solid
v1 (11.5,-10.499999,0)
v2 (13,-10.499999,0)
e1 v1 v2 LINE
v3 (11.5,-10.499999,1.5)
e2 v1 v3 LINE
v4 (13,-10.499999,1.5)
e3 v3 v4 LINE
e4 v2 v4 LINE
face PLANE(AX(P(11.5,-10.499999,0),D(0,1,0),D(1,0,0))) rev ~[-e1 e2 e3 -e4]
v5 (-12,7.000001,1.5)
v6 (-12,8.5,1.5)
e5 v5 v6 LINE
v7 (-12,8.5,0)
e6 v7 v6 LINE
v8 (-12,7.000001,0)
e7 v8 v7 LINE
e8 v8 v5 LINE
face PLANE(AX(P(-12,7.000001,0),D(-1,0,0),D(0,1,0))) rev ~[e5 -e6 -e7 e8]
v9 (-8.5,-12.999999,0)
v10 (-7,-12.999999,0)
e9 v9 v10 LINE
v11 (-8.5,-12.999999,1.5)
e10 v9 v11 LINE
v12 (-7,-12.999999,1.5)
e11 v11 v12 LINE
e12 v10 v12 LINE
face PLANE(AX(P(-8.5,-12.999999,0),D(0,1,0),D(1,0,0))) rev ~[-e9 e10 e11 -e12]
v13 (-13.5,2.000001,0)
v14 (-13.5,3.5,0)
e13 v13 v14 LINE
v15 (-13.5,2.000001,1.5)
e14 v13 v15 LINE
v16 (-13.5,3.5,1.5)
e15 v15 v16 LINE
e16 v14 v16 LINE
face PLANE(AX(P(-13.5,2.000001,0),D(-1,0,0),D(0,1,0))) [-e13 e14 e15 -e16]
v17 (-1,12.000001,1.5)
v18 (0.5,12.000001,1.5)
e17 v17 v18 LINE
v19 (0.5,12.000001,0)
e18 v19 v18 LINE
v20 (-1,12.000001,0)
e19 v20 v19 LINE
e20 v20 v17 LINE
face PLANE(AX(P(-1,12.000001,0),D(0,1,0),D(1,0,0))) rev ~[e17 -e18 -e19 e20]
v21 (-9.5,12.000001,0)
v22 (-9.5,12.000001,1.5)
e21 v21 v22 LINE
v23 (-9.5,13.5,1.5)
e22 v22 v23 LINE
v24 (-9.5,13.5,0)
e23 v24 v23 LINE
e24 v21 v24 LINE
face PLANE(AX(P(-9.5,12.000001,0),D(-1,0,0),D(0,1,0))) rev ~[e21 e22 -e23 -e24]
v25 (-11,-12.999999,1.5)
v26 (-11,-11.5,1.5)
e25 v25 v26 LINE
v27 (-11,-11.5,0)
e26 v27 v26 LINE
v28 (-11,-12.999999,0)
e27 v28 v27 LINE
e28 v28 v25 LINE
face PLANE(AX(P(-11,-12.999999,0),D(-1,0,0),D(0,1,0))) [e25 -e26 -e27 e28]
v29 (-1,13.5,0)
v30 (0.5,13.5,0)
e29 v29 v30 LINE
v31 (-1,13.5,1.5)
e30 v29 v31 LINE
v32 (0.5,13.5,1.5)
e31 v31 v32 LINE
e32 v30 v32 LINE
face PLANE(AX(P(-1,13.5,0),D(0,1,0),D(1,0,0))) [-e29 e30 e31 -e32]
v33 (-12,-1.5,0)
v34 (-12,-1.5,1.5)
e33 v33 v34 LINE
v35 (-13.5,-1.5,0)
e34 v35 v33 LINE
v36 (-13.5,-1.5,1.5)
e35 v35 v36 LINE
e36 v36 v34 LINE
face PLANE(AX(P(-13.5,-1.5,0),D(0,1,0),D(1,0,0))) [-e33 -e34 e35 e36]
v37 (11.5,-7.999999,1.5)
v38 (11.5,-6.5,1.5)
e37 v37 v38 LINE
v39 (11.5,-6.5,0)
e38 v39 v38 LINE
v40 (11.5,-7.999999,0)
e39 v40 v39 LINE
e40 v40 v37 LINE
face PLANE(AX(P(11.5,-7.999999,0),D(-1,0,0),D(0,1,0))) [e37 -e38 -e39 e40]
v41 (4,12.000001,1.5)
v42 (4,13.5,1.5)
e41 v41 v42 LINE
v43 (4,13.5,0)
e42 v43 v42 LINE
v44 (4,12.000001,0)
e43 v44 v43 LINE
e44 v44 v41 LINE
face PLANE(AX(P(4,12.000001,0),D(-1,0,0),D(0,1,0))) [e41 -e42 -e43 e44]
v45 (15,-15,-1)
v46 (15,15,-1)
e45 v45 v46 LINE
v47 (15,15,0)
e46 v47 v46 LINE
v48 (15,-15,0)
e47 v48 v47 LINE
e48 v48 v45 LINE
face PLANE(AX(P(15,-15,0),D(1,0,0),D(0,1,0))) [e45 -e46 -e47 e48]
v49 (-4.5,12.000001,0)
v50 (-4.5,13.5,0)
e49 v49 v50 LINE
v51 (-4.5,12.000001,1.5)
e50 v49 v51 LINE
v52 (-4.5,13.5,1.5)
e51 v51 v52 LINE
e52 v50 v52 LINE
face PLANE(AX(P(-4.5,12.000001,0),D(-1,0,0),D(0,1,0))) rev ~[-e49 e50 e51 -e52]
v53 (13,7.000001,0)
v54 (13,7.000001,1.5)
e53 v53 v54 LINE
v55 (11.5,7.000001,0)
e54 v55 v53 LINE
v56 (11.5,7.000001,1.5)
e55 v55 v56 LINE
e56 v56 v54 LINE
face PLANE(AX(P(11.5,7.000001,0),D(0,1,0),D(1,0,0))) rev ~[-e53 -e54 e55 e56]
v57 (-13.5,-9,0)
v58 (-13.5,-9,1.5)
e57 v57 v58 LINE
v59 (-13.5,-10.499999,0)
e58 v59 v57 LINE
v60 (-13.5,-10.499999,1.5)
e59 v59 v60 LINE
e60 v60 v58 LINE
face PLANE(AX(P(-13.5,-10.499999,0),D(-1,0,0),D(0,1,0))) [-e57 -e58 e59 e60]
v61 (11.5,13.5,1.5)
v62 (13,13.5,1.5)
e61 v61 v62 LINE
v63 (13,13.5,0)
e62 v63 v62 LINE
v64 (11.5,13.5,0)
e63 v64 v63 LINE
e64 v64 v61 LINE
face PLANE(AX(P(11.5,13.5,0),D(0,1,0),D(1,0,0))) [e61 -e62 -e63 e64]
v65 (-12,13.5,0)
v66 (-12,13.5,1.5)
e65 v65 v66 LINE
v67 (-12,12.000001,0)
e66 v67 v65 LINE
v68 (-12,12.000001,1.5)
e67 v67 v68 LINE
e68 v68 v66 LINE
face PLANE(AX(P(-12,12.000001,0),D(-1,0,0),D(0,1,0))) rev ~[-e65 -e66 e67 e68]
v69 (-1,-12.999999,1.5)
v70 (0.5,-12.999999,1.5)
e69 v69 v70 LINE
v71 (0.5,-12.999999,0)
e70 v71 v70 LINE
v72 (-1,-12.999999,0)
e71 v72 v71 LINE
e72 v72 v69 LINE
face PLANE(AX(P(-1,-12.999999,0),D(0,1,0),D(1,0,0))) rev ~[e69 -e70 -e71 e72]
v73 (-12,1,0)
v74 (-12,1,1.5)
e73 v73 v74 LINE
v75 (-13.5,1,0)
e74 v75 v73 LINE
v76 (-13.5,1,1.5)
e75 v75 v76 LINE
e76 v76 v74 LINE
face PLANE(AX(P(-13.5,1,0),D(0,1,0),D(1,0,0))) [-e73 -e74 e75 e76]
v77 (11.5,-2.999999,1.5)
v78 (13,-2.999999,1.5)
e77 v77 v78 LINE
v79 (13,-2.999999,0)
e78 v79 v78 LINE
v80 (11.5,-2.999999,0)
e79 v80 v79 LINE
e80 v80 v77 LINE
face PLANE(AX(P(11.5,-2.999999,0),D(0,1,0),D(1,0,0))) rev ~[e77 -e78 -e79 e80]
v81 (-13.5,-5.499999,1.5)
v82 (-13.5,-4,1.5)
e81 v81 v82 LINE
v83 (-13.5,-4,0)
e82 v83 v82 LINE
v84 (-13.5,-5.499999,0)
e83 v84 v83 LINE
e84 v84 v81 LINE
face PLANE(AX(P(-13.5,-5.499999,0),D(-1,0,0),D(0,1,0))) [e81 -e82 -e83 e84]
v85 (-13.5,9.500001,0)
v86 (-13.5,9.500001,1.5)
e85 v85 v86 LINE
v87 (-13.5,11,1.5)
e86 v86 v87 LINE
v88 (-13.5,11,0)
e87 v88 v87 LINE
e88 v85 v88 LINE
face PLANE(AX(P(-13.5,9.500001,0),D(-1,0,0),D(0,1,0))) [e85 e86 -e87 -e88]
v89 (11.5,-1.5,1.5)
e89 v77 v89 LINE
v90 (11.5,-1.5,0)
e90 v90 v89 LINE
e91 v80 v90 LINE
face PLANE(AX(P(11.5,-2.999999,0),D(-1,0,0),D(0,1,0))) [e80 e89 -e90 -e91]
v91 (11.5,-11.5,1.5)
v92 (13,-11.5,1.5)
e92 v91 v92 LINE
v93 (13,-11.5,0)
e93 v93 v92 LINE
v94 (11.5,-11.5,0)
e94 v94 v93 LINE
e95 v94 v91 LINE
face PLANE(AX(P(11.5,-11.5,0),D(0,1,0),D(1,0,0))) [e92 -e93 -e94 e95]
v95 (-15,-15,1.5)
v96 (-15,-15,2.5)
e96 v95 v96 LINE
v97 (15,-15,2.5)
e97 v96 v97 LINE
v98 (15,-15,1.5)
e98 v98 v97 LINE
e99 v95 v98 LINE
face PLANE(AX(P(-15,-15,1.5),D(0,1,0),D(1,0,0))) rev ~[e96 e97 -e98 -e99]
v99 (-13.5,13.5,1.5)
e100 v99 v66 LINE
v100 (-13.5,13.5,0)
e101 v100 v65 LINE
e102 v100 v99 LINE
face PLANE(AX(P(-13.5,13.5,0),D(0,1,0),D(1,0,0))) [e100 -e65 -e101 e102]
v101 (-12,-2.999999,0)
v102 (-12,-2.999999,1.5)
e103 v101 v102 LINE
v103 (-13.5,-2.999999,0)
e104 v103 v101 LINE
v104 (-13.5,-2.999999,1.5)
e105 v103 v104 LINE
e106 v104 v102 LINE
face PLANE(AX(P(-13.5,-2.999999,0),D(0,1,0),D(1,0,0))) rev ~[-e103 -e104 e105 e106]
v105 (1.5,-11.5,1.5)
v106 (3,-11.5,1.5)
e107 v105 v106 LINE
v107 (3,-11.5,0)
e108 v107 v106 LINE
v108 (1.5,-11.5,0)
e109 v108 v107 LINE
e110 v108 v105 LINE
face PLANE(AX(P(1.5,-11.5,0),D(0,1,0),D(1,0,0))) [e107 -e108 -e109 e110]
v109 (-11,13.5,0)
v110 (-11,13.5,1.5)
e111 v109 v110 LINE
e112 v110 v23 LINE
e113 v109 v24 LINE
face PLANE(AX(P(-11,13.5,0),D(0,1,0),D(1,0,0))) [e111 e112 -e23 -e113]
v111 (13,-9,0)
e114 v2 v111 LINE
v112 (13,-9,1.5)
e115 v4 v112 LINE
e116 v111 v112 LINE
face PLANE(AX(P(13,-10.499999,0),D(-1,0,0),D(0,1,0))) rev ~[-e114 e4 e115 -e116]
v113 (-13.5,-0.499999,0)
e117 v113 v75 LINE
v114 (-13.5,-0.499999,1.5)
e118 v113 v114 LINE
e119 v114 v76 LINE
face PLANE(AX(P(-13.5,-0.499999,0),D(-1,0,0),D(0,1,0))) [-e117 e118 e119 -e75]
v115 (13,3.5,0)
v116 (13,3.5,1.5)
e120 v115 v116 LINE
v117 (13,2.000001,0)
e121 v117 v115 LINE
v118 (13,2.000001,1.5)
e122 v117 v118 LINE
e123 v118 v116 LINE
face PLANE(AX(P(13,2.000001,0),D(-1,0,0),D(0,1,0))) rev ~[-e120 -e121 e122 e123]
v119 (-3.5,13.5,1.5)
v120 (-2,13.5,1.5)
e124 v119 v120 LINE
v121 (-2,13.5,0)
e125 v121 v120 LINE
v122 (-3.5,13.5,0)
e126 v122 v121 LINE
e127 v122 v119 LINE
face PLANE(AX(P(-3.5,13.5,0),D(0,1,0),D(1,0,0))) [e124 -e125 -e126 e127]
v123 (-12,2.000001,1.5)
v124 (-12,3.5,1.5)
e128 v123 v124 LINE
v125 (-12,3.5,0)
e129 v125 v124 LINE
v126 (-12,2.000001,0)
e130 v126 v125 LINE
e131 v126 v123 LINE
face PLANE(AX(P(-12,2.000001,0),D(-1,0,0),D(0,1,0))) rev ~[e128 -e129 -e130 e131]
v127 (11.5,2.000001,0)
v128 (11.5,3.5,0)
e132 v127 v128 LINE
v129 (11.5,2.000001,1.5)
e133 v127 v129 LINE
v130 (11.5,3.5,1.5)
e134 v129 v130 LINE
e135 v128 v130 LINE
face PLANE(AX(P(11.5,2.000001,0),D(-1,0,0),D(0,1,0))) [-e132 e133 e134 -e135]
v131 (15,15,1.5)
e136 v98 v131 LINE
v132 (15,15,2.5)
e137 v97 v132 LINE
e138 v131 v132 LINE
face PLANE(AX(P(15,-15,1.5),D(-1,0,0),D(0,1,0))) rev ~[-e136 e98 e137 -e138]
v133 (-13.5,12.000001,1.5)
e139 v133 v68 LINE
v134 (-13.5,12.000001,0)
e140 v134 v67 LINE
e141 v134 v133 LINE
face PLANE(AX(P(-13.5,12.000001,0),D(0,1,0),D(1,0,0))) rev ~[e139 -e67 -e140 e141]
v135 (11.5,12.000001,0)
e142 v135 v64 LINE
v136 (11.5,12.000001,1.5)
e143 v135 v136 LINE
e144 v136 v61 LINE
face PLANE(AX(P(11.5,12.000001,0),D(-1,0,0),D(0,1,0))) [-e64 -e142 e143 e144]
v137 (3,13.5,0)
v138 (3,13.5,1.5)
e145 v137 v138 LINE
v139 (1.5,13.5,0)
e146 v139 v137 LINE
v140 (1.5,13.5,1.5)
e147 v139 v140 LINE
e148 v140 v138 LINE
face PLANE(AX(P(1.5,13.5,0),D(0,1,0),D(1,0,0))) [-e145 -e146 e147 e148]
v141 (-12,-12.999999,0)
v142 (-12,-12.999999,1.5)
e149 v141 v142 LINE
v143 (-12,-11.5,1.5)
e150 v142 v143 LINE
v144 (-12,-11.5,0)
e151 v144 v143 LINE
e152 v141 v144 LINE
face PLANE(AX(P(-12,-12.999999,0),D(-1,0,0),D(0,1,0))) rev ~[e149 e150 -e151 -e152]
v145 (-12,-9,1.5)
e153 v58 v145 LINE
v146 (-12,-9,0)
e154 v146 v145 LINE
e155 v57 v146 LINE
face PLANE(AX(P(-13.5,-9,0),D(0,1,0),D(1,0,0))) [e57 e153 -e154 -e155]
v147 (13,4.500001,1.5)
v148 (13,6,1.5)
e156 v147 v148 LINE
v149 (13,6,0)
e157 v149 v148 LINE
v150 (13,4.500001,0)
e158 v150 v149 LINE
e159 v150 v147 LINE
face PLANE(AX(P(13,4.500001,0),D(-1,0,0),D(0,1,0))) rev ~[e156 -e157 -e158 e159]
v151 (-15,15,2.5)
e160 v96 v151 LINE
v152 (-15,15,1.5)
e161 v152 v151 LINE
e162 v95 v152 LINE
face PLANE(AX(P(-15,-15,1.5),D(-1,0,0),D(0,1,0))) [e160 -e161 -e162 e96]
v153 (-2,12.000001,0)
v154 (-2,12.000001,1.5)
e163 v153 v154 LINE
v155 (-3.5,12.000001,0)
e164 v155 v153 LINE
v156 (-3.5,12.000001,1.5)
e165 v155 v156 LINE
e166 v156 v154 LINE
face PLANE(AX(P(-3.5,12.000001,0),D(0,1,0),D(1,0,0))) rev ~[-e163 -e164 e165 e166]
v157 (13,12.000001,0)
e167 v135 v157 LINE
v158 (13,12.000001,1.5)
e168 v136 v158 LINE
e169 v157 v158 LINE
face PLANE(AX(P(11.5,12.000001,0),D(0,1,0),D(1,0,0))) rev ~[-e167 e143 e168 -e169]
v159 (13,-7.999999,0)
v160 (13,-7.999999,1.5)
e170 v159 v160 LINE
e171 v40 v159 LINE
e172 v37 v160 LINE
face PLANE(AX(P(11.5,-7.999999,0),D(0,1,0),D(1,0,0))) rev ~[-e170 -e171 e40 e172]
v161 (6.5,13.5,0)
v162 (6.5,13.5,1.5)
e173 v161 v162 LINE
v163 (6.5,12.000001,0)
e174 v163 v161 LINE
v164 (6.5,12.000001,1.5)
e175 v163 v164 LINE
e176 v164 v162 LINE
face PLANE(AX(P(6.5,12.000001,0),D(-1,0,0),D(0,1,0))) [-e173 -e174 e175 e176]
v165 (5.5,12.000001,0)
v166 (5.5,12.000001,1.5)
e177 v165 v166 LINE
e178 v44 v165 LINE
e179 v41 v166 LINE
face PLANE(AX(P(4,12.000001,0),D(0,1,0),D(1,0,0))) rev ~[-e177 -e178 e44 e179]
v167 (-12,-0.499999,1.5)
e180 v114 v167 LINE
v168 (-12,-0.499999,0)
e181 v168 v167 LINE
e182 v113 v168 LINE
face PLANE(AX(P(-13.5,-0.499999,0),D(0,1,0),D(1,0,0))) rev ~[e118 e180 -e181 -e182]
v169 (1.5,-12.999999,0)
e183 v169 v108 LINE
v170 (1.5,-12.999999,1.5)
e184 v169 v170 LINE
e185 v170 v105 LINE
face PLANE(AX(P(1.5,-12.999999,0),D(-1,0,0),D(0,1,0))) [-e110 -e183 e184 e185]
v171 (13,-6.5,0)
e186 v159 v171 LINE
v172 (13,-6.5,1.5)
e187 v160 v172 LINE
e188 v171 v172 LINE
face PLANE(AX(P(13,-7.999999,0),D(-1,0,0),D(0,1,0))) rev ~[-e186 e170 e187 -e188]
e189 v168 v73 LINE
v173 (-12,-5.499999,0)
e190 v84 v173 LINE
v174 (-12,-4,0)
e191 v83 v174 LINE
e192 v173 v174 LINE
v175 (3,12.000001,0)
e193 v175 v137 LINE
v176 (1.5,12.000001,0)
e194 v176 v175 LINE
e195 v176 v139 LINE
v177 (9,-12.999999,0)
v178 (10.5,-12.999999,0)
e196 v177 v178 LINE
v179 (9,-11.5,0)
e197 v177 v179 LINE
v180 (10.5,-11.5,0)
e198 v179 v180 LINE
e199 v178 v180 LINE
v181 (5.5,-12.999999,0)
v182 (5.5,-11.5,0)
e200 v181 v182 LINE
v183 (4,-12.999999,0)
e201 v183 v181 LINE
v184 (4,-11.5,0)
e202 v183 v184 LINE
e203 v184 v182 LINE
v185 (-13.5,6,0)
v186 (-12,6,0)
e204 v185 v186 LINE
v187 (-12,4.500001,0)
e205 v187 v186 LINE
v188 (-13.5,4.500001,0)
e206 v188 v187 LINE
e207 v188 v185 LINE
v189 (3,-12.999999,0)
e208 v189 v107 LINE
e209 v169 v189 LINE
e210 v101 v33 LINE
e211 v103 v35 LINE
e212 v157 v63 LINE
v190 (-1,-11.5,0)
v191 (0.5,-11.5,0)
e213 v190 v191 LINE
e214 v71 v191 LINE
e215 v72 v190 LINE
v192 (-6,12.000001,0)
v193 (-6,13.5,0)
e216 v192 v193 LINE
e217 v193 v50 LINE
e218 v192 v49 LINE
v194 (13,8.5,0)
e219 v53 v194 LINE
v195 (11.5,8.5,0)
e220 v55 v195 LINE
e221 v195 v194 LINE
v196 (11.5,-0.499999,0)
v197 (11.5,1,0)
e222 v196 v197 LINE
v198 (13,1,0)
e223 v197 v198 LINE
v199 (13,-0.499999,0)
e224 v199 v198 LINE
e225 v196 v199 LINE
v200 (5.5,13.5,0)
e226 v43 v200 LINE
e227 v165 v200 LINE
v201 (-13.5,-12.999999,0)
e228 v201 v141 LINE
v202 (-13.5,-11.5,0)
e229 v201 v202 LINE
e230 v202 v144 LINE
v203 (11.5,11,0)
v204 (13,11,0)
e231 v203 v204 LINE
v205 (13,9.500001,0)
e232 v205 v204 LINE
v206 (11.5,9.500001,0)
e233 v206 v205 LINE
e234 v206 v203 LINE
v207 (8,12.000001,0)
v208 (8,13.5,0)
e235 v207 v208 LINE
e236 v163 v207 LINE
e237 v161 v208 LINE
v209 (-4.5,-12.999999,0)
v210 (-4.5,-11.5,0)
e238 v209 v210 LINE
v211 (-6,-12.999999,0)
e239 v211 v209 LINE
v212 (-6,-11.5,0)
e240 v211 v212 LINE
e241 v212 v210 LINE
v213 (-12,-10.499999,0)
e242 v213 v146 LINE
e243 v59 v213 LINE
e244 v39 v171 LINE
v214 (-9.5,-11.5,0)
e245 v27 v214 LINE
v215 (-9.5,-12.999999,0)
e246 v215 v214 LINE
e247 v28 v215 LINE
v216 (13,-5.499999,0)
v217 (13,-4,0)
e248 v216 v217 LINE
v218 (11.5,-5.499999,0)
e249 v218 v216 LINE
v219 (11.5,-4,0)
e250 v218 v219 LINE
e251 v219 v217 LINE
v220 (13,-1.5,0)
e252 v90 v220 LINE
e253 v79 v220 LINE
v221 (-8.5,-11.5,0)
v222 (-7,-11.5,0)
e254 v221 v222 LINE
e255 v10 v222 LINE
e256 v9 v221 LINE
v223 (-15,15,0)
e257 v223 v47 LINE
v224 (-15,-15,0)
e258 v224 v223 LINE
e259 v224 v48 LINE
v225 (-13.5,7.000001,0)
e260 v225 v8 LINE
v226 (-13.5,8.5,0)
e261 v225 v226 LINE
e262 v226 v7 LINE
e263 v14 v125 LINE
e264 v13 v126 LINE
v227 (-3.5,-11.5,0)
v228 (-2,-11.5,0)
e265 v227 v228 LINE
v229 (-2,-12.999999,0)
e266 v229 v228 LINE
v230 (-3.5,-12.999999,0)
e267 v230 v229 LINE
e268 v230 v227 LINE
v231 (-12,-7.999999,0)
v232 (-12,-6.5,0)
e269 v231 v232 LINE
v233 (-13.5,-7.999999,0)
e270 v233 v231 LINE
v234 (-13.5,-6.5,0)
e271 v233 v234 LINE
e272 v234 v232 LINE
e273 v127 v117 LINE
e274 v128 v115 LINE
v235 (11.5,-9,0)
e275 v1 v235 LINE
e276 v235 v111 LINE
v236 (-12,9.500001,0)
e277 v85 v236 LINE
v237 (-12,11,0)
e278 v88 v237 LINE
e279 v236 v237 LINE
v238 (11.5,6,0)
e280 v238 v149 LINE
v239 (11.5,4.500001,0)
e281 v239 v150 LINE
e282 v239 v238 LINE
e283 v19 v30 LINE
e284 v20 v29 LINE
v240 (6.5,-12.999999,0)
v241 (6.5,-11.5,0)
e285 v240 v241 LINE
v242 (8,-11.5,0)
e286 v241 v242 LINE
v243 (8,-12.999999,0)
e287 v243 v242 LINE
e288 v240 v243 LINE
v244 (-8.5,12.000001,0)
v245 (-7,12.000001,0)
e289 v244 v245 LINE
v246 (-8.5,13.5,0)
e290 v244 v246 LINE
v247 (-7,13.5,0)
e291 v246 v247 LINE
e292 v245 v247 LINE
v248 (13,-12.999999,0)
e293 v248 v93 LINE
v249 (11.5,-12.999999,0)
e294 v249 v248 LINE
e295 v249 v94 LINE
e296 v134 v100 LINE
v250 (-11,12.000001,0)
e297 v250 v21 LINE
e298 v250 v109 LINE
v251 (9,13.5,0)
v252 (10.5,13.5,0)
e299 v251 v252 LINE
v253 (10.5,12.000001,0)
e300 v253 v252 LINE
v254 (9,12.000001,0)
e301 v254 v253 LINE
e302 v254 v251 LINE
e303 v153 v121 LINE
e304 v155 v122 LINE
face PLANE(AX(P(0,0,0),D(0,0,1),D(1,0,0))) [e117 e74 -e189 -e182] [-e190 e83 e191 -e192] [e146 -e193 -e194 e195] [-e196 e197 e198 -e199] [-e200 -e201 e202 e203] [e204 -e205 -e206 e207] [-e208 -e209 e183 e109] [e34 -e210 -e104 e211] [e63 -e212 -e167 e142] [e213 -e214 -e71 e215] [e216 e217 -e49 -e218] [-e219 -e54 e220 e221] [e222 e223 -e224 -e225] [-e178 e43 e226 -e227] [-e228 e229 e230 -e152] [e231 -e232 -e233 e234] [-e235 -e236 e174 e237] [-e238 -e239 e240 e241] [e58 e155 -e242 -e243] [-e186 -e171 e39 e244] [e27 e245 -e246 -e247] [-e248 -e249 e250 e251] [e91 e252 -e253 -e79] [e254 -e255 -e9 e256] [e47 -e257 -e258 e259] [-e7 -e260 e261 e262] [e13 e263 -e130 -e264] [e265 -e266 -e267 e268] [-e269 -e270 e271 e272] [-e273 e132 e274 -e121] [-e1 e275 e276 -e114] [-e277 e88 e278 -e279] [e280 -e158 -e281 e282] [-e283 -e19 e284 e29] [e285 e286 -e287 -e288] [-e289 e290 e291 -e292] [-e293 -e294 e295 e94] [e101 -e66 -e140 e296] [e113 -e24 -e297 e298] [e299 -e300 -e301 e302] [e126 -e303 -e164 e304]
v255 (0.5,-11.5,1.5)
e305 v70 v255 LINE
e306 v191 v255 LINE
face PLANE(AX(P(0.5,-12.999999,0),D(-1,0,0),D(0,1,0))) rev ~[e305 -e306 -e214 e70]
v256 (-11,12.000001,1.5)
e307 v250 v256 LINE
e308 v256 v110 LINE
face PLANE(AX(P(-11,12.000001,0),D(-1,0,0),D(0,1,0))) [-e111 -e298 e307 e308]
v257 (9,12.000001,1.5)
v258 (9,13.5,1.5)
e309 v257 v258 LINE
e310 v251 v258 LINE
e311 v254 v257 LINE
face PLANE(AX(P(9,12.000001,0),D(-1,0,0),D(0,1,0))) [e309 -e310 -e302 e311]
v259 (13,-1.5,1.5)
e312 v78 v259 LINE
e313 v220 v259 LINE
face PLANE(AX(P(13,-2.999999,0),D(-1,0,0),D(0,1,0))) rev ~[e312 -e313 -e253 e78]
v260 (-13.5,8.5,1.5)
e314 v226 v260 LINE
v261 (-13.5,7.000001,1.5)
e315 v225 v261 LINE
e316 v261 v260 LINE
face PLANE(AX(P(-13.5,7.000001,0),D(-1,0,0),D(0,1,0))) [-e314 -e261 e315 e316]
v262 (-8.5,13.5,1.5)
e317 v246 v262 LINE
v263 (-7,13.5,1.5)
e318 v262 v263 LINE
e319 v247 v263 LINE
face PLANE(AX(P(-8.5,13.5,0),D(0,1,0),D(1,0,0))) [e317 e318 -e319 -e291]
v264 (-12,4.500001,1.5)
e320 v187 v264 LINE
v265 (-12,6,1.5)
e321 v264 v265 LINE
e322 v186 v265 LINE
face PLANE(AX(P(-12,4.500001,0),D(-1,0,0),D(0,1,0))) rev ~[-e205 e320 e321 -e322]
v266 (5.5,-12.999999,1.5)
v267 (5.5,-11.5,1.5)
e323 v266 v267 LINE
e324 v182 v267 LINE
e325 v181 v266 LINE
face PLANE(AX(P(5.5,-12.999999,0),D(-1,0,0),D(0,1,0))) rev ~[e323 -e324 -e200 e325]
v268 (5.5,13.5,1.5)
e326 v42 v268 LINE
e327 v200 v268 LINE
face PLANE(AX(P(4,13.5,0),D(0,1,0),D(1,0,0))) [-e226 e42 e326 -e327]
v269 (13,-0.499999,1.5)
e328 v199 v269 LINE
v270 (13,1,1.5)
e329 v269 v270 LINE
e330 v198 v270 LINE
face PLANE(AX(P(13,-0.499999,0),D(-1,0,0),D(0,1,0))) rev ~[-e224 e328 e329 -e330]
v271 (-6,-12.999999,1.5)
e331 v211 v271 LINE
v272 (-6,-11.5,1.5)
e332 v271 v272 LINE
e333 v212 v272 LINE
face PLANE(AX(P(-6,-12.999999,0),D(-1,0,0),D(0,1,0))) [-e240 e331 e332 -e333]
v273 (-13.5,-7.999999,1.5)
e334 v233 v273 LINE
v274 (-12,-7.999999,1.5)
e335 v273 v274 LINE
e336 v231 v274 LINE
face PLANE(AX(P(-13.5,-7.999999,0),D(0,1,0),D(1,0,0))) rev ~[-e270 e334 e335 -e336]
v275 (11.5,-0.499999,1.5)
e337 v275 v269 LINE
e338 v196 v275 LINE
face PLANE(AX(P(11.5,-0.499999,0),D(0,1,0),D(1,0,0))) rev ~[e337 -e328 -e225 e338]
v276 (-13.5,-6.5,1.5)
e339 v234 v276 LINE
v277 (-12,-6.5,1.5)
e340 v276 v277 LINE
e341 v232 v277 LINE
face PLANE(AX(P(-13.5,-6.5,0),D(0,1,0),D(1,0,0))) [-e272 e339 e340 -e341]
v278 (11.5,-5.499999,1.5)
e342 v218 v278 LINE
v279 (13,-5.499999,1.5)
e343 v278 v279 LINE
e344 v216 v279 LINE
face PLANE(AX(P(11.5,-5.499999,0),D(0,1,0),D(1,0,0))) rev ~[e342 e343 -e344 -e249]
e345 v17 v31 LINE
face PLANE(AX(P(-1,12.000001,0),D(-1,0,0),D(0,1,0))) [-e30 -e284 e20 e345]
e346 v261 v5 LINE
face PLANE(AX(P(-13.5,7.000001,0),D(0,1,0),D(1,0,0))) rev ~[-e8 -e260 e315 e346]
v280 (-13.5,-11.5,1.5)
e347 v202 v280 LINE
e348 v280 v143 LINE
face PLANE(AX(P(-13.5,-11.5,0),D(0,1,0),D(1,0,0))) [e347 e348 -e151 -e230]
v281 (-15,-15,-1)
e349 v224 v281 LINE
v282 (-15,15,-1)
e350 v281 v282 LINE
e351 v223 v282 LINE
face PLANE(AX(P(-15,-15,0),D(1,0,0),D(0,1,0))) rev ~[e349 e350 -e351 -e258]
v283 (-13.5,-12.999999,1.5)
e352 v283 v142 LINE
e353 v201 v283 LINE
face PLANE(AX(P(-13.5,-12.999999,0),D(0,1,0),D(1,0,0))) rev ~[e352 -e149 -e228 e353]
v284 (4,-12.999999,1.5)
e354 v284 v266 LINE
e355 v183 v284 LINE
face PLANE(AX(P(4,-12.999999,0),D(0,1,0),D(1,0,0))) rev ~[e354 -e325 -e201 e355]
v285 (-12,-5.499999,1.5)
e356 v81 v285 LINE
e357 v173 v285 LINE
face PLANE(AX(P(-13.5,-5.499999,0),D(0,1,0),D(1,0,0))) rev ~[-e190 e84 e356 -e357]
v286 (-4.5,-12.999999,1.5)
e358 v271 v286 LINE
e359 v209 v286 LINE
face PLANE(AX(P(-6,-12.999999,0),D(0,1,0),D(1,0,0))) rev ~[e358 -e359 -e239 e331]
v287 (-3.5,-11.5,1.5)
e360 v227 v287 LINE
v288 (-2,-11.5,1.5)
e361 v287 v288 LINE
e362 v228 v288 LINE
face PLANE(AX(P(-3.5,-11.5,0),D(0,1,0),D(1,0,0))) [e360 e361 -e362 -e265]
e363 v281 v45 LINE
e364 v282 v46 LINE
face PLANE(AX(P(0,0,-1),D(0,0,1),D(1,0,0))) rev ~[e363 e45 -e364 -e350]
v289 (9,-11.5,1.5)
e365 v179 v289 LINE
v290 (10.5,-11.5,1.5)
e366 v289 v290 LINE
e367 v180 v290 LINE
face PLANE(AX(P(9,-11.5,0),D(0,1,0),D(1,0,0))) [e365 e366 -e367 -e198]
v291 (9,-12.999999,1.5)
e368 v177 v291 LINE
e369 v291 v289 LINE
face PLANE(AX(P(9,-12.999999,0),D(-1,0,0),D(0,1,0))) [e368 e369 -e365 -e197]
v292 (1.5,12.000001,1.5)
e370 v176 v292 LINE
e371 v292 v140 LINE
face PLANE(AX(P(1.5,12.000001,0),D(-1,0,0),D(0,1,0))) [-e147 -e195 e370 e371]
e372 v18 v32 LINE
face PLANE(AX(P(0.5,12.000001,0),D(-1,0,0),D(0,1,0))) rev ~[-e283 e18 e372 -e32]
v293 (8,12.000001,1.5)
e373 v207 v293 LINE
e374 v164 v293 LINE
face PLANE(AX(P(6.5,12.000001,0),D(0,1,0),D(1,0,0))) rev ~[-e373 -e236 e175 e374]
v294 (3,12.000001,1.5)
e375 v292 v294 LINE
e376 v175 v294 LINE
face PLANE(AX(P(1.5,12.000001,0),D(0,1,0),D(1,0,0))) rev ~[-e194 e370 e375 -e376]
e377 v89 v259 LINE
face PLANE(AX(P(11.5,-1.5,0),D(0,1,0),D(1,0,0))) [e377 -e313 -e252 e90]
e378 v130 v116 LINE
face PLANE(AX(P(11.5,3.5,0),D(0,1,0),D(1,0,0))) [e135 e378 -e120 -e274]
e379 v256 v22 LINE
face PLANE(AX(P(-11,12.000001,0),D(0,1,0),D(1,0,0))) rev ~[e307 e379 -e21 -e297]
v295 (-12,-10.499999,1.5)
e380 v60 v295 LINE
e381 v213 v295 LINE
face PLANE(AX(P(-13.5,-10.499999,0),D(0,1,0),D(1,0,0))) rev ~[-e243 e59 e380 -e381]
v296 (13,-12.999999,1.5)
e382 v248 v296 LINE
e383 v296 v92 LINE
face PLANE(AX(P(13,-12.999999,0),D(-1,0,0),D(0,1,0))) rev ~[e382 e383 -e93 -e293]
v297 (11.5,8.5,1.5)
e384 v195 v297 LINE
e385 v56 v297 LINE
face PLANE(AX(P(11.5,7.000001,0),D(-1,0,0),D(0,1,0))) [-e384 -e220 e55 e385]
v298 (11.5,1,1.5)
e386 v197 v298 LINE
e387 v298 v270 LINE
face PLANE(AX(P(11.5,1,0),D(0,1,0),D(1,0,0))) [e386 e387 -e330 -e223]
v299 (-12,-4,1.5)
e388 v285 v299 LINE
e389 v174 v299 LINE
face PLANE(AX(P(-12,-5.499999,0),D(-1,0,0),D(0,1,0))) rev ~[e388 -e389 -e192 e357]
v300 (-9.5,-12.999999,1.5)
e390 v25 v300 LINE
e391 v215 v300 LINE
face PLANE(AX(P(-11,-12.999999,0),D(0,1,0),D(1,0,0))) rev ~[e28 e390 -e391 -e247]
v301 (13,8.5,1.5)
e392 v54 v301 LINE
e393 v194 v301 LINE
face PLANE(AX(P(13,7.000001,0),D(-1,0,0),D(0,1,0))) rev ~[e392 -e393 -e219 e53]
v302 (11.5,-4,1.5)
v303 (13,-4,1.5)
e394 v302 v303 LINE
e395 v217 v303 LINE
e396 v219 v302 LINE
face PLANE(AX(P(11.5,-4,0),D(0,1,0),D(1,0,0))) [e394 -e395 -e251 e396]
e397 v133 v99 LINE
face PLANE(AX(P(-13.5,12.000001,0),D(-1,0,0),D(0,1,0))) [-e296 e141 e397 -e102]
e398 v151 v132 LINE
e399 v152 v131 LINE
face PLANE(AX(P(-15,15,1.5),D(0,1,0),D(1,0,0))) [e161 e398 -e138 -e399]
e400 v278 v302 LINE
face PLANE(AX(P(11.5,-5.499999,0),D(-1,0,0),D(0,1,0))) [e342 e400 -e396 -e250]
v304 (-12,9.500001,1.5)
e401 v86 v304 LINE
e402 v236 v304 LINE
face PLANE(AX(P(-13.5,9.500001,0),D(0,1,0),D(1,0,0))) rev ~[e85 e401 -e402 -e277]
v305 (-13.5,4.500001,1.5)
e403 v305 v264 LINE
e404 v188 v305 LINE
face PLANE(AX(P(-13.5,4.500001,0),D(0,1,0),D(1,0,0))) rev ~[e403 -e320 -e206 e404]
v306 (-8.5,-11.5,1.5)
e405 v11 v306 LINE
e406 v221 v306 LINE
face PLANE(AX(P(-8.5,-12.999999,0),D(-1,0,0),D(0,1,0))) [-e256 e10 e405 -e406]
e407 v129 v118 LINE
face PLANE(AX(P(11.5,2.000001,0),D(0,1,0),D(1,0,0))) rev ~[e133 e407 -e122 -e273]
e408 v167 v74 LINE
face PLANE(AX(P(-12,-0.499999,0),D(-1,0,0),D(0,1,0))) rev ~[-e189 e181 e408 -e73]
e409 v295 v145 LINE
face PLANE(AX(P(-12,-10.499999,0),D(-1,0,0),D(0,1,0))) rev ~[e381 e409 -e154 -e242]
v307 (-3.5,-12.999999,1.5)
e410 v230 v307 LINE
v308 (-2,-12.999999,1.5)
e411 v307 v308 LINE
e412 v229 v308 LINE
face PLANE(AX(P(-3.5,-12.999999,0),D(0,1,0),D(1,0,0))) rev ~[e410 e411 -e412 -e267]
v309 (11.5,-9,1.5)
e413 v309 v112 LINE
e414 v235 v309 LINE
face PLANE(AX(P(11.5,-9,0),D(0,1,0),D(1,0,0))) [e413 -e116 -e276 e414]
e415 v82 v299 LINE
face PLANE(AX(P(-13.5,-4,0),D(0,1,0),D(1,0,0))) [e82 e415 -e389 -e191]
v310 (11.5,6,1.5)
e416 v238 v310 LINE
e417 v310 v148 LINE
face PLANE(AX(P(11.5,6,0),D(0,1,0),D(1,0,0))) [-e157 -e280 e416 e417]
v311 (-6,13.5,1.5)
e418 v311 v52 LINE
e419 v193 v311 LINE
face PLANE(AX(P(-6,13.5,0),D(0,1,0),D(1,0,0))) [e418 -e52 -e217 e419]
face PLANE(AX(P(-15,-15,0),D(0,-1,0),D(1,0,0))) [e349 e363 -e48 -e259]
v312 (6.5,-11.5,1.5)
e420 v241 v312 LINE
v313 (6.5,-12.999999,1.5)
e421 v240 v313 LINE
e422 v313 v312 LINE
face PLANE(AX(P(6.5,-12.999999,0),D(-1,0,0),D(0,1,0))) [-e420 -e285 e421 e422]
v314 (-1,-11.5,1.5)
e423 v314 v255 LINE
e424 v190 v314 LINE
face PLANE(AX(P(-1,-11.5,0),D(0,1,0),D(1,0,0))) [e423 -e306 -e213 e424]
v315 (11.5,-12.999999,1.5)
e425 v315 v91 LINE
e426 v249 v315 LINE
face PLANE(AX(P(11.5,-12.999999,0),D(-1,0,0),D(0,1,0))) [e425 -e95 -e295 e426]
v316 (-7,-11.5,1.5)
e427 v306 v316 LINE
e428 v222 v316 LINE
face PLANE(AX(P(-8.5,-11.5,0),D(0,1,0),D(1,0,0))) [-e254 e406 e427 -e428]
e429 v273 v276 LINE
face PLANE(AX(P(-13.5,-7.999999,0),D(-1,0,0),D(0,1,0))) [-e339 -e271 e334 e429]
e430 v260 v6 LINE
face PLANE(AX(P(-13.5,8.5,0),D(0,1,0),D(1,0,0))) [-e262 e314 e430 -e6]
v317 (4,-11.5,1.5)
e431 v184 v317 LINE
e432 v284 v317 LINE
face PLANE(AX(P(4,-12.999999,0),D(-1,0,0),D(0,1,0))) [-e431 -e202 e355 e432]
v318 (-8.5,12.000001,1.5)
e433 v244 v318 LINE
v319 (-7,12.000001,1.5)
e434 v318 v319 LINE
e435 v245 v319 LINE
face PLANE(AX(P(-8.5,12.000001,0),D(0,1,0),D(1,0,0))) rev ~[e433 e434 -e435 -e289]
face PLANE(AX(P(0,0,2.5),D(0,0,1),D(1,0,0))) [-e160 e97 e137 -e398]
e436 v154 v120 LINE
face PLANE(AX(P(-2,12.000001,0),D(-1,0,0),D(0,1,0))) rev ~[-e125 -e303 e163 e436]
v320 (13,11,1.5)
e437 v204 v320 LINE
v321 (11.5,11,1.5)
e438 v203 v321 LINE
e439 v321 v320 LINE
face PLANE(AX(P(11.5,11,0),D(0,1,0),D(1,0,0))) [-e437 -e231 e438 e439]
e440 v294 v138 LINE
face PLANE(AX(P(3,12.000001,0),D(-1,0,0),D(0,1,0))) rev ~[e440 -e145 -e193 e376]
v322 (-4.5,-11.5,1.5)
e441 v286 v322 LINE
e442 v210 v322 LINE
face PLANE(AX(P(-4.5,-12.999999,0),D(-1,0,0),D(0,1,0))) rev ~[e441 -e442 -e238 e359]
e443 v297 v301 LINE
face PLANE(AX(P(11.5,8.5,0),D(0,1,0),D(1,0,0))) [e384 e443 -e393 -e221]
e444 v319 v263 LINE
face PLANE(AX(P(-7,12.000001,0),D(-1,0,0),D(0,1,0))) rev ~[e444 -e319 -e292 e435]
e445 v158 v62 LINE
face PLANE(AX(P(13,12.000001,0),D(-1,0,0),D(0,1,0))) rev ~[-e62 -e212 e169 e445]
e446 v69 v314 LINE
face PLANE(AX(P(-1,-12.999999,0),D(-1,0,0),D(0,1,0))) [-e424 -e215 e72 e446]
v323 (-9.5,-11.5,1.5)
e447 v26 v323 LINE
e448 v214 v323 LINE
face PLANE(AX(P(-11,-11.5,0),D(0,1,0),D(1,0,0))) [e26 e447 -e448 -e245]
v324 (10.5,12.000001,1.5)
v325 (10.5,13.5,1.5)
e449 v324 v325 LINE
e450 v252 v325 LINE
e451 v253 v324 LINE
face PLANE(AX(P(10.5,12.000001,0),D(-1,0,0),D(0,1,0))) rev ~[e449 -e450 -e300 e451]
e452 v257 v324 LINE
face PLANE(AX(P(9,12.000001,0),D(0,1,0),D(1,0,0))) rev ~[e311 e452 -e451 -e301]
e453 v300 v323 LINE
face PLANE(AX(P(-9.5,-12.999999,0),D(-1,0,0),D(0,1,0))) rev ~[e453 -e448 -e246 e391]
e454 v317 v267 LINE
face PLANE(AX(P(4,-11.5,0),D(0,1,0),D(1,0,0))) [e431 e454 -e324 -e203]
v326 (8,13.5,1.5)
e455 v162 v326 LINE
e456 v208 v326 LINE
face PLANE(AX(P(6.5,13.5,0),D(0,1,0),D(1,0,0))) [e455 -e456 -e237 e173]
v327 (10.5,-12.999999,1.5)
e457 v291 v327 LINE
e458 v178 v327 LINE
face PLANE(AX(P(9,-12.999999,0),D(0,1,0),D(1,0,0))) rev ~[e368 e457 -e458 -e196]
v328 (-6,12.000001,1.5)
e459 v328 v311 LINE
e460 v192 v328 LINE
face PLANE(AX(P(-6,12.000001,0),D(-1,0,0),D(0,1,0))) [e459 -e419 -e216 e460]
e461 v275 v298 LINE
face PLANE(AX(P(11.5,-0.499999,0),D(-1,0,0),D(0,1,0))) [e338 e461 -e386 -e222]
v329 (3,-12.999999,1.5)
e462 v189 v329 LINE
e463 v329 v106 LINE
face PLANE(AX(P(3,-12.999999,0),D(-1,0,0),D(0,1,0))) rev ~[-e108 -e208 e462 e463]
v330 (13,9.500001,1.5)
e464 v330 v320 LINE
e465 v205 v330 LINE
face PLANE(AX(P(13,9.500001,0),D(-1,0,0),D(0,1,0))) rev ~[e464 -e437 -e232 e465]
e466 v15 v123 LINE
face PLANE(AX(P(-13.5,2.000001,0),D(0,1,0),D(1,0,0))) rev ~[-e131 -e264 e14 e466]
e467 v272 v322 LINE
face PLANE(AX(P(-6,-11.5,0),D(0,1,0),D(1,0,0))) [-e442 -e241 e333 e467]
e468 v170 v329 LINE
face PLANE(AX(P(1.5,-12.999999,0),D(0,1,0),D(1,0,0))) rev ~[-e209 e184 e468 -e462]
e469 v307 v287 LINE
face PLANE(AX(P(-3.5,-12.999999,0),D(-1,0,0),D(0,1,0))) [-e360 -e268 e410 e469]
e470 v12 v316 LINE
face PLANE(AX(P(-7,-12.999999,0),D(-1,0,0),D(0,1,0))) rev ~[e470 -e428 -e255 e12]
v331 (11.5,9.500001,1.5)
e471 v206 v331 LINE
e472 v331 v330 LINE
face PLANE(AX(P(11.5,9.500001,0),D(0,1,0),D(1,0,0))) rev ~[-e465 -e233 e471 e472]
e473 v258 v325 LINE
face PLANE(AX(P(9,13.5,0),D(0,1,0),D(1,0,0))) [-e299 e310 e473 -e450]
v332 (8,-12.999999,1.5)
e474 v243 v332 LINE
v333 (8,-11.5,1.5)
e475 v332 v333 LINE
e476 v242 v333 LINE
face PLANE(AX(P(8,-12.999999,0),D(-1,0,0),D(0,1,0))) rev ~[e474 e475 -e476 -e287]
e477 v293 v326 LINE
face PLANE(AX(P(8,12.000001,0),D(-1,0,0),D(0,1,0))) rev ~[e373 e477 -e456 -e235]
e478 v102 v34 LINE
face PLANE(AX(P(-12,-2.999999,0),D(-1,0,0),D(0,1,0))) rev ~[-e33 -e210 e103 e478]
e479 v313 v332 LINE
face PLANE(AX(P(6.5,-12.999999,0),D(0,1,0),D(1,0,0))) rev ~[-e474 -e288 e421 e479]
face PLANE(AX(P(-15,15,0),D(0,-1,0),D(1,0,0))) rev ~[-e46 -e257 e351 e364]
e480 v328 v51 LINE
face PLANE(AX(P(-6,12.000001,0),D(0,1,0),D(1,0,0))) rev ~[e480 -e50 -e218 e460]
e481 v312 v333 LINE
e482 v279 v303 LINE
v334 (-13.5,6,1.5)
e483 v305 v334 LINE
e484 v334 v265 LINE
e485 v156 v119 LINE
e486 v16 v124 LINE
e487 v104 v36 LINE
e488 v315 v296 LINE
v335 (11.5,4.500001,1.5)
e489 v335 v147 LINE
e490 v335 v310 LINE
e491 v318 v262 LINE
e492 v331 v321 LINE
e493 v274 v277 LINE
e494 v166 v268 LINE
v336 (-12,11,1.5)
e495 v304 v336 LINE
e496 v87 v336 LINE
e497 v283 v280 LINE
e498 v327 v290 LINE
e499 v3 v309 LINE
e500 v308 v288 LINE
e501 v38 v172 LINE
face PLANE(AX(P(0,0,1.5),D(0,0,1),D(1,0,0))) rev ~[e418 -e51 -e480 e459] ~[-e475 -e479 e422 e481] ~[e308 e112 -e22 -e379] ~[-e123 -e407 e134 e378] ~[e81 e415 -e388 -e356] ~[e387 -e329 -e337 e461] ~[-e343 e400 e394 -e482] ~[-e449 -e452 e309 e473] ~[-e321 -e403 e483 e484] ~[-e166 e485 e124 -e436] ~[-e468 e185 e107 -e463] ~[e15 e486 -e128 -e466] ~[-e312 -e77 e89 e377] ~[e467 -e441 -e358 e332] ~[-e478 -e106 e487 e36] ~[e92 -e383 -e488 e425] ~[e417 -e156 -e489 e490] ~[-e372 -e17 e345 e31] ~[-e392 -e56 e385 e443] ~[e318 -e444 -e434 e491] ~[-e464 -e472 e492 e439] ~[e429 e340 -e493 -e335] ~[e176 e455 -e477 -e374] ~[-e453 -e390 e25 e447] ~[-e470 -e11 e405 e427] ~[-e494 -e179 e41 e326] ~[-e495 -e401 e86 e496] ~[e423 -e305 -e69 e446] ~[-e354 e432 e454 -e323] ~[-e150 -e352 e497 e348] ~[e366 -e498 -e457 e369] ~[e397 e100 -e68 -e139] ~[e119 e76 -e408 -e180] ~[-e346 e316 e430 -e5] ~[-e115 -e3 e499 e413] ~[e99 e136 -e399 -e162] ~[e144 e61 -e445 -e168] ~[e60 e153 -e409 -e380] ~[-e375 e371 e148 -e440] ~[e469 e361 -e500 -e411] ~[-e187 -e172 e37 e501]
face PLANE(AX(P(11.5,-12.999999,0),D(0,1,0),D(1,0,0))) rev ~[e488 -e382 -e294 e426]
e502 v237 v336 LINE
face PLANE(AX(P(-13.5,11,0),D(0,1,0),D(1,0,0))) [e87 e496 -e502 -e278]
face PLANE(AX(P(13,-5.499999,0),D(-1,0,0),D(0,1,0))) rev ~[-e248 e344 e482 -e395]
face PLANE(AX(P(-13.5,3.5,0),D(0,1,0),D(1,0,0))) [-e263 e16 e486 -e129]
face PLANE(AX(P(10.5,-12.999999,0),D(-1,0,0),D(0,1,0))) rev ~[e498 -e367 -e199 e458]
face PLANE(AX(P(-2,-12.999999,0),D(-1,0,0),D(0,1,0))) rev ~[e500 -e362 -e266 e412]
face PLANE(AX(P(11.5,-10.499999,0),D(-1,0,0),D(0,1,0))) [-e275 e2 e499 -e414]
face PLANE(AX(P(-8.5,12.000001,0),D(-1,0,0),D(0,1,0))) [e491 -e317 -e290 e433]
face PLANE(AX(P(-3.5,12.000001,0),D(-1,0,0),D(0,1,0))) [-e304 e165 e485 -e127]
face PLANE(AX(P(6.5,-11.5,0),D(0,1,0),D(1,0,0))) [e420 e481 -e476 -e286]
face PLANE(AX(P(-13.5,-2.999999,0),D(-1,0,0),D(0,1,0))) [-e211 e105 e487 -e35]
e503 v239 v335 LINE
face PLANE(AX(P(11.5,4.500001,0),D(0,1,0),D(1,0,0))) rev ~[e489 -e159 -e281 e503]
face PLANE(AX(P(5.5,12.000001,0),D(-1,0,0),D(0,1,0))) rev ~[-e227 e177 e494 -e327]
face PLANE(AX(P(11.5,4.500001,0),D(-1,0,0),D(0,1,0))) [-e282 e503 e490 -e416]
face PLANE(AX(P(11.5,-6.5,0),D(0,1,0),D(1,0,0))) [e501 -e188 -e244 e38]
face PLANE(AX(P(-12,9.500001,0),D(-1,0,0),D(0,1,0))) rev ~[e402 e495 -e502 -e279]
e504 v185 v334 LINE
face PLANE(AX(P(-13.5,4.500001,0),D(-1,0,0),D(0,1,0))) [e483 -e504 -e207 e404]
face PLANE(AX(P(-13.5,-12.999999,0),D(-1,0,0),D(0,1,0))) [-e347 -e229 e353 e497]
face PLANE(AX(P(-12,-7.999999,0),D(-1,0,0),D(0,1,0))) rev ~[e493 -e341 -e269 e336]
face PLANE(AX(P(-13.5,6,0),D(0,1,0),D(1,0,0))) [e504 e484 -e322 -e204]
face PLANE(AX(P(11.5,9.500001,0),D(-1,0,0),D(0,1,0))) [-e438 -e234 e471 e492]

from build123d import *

# Parameters (mm, degrees)
F0_W     = 30
F0_H     = 30
F1_DEPTH = 1
F2_W     = 1.5
F2_H     = 1.4999990595
F3_DEPTH = 1.5
F4_W     = 30
F4_H     = 30
F5_DEPTH = 1


with BuildPart() as f1:
    # F0 (on Top) → F1 (new body)
    with BuildSketch(Plane.XY):
        Rectangle(F0_W, F0_H)
    extrude(amount=-F1_DEPTH)

    # F2 (on face) → F3 (join)
    with BuildSketch(Plane.XY):
        with Locations((-12.75, 12.7500004702)):
            Rectangle(F2_W, F2_H)
        with Locations((-10.25, 12.7500004702)):
            Rectangle(F2_W, F2_H)
        with Locations((-7.75, 12.7500004702)):
            Rectangle(F2_W, F2_H)
        with Locations((-5.25, 12.7500004702)):
            Rectangle(F2_W, F2_H)
        with Locations((-2.75, 12.7500004702)):
            Rectangle(F2_W, F2_H)
        with Locations((-0.25, 12.7500004702)):
            Rectangle(F2_W, F2_H)
        with Locations((2.25, 12.7500004702)):
            Rectangle(F2_W, F2_H)
        with Locations((4.75, 12.7500004702)):
            Rectangle(F2_W, F2_H)
        with Locations((7.25, 12.7500004702)):
            Rectangle(F2_W, F2_H)
        with Locations((9.75, 12.7500004702)):
            Rectangle(F2_W, F2_H)
        with Locations((12.25, 12.7500004702)):
            Rectangle(F2_W, F2_H)
        with Locations((12.25, 10.2500004702)):
            Rectangle(F2_W, F2_H)
        with Locations((-12.75, 10.2500004702)):
            Rectangle(F2_W, F2_H)
        with Locations((12.25, 7.7500004702)):
            Rectangle(F2_W, F2_H)
        with Locations((-12.75, 7.7500004702)):
            Rectangle(F2_W, F2_H)
        with Locations((12.25, 5.2500004702)):
            Rectangle(F2_W, F2_H)
        with Locations((-12.75, 5.2500004702)):
            Rectangle(F2_W, F2_H)
        with Locations((12.25, 2.7500004702)):
            Rectangle(F2_W, F2_H)
        with Locations((-12.75, 2.7500004702)):
            Rectangle(F2_W, F2_H)
        with Locations((12.25, 0.2500004702)):
            Rectangle(F2_W, F2_H)
        with Locations((-12.75, 0.2500004702)):
            Rectangle(F2_W, F2_H)
        with Locations((12.25, -2.2499995298)):
            Rectangle(F2_W, F2_H)
        with Locations((-12.75, -2.2499995298)):
            Rectangle(F2_W, F2_H)
        with Locations((12.25, -4.7499995298)):
            Rectangle(F2_W, F2_H)
        with Locations((-12.75, -4.7499995298)):
            Rectangle(F2_W, F2_H)
        with Locations((12.25, -7.2499995298)):
            Rectangle(F2_W, F2_H)
        with Locations((-12.75, -7.2499995298)):
            Rectangle(F2_W, F2_H)
        with Locations((12.25, -9.7499995298)):
            Rectangle(F2_W, F2_H)
        with Locations((-12.75, -9.7499995298)):
            Rectangle(F2_W, F2_H)
        with Locations((-0.25, -12.2499995298)):
            Rectangle(F2_W, F2_H)
        with Locations((9.75, -12.2499995298)):
            Rectangle(F2_W, F2_H)
        with Locations((-5.25, -12.2499995298)):
            Rectangle(F2_W, F2_H)
        with Locations((-10.25, -12.2499995298)):
            Rectangle(F2_W, F2_H)
        with Locations((4.75, -12.2499995298)):
            Rectangle(F2_W, F2_H)
        with Locations((-2.75, -12.2499995298)):
            Rectangle(F2_W, F2_H)
        with Locations((7.25, -12.2499995298)):
            Rectangle(F2_W, F2_H)
        with Locations((2.25, -12.2499995298)):
            Rectangle(F2_W, F2_H)
        with Locations((12.25, -12.2499995298)):
            Rectangle(F2_W, F2_H)
        with Locations((-7.75, -12.2499995298)):
            Rectangle(F2_W, F2_H)
        with Locations((-12.75, -12.2499995298)):
            Rectangle(F2_W, F2_H)
    extrude(amount=F3_DEPTH)

    # F4 (on face) → F5 (join)
    with BuildSketch(Plane.XY.offset(1.5)):
        Rectangle(F4_W, F4_H)
    extrude(amount=F5_DEPTH)


solid = f1.part
